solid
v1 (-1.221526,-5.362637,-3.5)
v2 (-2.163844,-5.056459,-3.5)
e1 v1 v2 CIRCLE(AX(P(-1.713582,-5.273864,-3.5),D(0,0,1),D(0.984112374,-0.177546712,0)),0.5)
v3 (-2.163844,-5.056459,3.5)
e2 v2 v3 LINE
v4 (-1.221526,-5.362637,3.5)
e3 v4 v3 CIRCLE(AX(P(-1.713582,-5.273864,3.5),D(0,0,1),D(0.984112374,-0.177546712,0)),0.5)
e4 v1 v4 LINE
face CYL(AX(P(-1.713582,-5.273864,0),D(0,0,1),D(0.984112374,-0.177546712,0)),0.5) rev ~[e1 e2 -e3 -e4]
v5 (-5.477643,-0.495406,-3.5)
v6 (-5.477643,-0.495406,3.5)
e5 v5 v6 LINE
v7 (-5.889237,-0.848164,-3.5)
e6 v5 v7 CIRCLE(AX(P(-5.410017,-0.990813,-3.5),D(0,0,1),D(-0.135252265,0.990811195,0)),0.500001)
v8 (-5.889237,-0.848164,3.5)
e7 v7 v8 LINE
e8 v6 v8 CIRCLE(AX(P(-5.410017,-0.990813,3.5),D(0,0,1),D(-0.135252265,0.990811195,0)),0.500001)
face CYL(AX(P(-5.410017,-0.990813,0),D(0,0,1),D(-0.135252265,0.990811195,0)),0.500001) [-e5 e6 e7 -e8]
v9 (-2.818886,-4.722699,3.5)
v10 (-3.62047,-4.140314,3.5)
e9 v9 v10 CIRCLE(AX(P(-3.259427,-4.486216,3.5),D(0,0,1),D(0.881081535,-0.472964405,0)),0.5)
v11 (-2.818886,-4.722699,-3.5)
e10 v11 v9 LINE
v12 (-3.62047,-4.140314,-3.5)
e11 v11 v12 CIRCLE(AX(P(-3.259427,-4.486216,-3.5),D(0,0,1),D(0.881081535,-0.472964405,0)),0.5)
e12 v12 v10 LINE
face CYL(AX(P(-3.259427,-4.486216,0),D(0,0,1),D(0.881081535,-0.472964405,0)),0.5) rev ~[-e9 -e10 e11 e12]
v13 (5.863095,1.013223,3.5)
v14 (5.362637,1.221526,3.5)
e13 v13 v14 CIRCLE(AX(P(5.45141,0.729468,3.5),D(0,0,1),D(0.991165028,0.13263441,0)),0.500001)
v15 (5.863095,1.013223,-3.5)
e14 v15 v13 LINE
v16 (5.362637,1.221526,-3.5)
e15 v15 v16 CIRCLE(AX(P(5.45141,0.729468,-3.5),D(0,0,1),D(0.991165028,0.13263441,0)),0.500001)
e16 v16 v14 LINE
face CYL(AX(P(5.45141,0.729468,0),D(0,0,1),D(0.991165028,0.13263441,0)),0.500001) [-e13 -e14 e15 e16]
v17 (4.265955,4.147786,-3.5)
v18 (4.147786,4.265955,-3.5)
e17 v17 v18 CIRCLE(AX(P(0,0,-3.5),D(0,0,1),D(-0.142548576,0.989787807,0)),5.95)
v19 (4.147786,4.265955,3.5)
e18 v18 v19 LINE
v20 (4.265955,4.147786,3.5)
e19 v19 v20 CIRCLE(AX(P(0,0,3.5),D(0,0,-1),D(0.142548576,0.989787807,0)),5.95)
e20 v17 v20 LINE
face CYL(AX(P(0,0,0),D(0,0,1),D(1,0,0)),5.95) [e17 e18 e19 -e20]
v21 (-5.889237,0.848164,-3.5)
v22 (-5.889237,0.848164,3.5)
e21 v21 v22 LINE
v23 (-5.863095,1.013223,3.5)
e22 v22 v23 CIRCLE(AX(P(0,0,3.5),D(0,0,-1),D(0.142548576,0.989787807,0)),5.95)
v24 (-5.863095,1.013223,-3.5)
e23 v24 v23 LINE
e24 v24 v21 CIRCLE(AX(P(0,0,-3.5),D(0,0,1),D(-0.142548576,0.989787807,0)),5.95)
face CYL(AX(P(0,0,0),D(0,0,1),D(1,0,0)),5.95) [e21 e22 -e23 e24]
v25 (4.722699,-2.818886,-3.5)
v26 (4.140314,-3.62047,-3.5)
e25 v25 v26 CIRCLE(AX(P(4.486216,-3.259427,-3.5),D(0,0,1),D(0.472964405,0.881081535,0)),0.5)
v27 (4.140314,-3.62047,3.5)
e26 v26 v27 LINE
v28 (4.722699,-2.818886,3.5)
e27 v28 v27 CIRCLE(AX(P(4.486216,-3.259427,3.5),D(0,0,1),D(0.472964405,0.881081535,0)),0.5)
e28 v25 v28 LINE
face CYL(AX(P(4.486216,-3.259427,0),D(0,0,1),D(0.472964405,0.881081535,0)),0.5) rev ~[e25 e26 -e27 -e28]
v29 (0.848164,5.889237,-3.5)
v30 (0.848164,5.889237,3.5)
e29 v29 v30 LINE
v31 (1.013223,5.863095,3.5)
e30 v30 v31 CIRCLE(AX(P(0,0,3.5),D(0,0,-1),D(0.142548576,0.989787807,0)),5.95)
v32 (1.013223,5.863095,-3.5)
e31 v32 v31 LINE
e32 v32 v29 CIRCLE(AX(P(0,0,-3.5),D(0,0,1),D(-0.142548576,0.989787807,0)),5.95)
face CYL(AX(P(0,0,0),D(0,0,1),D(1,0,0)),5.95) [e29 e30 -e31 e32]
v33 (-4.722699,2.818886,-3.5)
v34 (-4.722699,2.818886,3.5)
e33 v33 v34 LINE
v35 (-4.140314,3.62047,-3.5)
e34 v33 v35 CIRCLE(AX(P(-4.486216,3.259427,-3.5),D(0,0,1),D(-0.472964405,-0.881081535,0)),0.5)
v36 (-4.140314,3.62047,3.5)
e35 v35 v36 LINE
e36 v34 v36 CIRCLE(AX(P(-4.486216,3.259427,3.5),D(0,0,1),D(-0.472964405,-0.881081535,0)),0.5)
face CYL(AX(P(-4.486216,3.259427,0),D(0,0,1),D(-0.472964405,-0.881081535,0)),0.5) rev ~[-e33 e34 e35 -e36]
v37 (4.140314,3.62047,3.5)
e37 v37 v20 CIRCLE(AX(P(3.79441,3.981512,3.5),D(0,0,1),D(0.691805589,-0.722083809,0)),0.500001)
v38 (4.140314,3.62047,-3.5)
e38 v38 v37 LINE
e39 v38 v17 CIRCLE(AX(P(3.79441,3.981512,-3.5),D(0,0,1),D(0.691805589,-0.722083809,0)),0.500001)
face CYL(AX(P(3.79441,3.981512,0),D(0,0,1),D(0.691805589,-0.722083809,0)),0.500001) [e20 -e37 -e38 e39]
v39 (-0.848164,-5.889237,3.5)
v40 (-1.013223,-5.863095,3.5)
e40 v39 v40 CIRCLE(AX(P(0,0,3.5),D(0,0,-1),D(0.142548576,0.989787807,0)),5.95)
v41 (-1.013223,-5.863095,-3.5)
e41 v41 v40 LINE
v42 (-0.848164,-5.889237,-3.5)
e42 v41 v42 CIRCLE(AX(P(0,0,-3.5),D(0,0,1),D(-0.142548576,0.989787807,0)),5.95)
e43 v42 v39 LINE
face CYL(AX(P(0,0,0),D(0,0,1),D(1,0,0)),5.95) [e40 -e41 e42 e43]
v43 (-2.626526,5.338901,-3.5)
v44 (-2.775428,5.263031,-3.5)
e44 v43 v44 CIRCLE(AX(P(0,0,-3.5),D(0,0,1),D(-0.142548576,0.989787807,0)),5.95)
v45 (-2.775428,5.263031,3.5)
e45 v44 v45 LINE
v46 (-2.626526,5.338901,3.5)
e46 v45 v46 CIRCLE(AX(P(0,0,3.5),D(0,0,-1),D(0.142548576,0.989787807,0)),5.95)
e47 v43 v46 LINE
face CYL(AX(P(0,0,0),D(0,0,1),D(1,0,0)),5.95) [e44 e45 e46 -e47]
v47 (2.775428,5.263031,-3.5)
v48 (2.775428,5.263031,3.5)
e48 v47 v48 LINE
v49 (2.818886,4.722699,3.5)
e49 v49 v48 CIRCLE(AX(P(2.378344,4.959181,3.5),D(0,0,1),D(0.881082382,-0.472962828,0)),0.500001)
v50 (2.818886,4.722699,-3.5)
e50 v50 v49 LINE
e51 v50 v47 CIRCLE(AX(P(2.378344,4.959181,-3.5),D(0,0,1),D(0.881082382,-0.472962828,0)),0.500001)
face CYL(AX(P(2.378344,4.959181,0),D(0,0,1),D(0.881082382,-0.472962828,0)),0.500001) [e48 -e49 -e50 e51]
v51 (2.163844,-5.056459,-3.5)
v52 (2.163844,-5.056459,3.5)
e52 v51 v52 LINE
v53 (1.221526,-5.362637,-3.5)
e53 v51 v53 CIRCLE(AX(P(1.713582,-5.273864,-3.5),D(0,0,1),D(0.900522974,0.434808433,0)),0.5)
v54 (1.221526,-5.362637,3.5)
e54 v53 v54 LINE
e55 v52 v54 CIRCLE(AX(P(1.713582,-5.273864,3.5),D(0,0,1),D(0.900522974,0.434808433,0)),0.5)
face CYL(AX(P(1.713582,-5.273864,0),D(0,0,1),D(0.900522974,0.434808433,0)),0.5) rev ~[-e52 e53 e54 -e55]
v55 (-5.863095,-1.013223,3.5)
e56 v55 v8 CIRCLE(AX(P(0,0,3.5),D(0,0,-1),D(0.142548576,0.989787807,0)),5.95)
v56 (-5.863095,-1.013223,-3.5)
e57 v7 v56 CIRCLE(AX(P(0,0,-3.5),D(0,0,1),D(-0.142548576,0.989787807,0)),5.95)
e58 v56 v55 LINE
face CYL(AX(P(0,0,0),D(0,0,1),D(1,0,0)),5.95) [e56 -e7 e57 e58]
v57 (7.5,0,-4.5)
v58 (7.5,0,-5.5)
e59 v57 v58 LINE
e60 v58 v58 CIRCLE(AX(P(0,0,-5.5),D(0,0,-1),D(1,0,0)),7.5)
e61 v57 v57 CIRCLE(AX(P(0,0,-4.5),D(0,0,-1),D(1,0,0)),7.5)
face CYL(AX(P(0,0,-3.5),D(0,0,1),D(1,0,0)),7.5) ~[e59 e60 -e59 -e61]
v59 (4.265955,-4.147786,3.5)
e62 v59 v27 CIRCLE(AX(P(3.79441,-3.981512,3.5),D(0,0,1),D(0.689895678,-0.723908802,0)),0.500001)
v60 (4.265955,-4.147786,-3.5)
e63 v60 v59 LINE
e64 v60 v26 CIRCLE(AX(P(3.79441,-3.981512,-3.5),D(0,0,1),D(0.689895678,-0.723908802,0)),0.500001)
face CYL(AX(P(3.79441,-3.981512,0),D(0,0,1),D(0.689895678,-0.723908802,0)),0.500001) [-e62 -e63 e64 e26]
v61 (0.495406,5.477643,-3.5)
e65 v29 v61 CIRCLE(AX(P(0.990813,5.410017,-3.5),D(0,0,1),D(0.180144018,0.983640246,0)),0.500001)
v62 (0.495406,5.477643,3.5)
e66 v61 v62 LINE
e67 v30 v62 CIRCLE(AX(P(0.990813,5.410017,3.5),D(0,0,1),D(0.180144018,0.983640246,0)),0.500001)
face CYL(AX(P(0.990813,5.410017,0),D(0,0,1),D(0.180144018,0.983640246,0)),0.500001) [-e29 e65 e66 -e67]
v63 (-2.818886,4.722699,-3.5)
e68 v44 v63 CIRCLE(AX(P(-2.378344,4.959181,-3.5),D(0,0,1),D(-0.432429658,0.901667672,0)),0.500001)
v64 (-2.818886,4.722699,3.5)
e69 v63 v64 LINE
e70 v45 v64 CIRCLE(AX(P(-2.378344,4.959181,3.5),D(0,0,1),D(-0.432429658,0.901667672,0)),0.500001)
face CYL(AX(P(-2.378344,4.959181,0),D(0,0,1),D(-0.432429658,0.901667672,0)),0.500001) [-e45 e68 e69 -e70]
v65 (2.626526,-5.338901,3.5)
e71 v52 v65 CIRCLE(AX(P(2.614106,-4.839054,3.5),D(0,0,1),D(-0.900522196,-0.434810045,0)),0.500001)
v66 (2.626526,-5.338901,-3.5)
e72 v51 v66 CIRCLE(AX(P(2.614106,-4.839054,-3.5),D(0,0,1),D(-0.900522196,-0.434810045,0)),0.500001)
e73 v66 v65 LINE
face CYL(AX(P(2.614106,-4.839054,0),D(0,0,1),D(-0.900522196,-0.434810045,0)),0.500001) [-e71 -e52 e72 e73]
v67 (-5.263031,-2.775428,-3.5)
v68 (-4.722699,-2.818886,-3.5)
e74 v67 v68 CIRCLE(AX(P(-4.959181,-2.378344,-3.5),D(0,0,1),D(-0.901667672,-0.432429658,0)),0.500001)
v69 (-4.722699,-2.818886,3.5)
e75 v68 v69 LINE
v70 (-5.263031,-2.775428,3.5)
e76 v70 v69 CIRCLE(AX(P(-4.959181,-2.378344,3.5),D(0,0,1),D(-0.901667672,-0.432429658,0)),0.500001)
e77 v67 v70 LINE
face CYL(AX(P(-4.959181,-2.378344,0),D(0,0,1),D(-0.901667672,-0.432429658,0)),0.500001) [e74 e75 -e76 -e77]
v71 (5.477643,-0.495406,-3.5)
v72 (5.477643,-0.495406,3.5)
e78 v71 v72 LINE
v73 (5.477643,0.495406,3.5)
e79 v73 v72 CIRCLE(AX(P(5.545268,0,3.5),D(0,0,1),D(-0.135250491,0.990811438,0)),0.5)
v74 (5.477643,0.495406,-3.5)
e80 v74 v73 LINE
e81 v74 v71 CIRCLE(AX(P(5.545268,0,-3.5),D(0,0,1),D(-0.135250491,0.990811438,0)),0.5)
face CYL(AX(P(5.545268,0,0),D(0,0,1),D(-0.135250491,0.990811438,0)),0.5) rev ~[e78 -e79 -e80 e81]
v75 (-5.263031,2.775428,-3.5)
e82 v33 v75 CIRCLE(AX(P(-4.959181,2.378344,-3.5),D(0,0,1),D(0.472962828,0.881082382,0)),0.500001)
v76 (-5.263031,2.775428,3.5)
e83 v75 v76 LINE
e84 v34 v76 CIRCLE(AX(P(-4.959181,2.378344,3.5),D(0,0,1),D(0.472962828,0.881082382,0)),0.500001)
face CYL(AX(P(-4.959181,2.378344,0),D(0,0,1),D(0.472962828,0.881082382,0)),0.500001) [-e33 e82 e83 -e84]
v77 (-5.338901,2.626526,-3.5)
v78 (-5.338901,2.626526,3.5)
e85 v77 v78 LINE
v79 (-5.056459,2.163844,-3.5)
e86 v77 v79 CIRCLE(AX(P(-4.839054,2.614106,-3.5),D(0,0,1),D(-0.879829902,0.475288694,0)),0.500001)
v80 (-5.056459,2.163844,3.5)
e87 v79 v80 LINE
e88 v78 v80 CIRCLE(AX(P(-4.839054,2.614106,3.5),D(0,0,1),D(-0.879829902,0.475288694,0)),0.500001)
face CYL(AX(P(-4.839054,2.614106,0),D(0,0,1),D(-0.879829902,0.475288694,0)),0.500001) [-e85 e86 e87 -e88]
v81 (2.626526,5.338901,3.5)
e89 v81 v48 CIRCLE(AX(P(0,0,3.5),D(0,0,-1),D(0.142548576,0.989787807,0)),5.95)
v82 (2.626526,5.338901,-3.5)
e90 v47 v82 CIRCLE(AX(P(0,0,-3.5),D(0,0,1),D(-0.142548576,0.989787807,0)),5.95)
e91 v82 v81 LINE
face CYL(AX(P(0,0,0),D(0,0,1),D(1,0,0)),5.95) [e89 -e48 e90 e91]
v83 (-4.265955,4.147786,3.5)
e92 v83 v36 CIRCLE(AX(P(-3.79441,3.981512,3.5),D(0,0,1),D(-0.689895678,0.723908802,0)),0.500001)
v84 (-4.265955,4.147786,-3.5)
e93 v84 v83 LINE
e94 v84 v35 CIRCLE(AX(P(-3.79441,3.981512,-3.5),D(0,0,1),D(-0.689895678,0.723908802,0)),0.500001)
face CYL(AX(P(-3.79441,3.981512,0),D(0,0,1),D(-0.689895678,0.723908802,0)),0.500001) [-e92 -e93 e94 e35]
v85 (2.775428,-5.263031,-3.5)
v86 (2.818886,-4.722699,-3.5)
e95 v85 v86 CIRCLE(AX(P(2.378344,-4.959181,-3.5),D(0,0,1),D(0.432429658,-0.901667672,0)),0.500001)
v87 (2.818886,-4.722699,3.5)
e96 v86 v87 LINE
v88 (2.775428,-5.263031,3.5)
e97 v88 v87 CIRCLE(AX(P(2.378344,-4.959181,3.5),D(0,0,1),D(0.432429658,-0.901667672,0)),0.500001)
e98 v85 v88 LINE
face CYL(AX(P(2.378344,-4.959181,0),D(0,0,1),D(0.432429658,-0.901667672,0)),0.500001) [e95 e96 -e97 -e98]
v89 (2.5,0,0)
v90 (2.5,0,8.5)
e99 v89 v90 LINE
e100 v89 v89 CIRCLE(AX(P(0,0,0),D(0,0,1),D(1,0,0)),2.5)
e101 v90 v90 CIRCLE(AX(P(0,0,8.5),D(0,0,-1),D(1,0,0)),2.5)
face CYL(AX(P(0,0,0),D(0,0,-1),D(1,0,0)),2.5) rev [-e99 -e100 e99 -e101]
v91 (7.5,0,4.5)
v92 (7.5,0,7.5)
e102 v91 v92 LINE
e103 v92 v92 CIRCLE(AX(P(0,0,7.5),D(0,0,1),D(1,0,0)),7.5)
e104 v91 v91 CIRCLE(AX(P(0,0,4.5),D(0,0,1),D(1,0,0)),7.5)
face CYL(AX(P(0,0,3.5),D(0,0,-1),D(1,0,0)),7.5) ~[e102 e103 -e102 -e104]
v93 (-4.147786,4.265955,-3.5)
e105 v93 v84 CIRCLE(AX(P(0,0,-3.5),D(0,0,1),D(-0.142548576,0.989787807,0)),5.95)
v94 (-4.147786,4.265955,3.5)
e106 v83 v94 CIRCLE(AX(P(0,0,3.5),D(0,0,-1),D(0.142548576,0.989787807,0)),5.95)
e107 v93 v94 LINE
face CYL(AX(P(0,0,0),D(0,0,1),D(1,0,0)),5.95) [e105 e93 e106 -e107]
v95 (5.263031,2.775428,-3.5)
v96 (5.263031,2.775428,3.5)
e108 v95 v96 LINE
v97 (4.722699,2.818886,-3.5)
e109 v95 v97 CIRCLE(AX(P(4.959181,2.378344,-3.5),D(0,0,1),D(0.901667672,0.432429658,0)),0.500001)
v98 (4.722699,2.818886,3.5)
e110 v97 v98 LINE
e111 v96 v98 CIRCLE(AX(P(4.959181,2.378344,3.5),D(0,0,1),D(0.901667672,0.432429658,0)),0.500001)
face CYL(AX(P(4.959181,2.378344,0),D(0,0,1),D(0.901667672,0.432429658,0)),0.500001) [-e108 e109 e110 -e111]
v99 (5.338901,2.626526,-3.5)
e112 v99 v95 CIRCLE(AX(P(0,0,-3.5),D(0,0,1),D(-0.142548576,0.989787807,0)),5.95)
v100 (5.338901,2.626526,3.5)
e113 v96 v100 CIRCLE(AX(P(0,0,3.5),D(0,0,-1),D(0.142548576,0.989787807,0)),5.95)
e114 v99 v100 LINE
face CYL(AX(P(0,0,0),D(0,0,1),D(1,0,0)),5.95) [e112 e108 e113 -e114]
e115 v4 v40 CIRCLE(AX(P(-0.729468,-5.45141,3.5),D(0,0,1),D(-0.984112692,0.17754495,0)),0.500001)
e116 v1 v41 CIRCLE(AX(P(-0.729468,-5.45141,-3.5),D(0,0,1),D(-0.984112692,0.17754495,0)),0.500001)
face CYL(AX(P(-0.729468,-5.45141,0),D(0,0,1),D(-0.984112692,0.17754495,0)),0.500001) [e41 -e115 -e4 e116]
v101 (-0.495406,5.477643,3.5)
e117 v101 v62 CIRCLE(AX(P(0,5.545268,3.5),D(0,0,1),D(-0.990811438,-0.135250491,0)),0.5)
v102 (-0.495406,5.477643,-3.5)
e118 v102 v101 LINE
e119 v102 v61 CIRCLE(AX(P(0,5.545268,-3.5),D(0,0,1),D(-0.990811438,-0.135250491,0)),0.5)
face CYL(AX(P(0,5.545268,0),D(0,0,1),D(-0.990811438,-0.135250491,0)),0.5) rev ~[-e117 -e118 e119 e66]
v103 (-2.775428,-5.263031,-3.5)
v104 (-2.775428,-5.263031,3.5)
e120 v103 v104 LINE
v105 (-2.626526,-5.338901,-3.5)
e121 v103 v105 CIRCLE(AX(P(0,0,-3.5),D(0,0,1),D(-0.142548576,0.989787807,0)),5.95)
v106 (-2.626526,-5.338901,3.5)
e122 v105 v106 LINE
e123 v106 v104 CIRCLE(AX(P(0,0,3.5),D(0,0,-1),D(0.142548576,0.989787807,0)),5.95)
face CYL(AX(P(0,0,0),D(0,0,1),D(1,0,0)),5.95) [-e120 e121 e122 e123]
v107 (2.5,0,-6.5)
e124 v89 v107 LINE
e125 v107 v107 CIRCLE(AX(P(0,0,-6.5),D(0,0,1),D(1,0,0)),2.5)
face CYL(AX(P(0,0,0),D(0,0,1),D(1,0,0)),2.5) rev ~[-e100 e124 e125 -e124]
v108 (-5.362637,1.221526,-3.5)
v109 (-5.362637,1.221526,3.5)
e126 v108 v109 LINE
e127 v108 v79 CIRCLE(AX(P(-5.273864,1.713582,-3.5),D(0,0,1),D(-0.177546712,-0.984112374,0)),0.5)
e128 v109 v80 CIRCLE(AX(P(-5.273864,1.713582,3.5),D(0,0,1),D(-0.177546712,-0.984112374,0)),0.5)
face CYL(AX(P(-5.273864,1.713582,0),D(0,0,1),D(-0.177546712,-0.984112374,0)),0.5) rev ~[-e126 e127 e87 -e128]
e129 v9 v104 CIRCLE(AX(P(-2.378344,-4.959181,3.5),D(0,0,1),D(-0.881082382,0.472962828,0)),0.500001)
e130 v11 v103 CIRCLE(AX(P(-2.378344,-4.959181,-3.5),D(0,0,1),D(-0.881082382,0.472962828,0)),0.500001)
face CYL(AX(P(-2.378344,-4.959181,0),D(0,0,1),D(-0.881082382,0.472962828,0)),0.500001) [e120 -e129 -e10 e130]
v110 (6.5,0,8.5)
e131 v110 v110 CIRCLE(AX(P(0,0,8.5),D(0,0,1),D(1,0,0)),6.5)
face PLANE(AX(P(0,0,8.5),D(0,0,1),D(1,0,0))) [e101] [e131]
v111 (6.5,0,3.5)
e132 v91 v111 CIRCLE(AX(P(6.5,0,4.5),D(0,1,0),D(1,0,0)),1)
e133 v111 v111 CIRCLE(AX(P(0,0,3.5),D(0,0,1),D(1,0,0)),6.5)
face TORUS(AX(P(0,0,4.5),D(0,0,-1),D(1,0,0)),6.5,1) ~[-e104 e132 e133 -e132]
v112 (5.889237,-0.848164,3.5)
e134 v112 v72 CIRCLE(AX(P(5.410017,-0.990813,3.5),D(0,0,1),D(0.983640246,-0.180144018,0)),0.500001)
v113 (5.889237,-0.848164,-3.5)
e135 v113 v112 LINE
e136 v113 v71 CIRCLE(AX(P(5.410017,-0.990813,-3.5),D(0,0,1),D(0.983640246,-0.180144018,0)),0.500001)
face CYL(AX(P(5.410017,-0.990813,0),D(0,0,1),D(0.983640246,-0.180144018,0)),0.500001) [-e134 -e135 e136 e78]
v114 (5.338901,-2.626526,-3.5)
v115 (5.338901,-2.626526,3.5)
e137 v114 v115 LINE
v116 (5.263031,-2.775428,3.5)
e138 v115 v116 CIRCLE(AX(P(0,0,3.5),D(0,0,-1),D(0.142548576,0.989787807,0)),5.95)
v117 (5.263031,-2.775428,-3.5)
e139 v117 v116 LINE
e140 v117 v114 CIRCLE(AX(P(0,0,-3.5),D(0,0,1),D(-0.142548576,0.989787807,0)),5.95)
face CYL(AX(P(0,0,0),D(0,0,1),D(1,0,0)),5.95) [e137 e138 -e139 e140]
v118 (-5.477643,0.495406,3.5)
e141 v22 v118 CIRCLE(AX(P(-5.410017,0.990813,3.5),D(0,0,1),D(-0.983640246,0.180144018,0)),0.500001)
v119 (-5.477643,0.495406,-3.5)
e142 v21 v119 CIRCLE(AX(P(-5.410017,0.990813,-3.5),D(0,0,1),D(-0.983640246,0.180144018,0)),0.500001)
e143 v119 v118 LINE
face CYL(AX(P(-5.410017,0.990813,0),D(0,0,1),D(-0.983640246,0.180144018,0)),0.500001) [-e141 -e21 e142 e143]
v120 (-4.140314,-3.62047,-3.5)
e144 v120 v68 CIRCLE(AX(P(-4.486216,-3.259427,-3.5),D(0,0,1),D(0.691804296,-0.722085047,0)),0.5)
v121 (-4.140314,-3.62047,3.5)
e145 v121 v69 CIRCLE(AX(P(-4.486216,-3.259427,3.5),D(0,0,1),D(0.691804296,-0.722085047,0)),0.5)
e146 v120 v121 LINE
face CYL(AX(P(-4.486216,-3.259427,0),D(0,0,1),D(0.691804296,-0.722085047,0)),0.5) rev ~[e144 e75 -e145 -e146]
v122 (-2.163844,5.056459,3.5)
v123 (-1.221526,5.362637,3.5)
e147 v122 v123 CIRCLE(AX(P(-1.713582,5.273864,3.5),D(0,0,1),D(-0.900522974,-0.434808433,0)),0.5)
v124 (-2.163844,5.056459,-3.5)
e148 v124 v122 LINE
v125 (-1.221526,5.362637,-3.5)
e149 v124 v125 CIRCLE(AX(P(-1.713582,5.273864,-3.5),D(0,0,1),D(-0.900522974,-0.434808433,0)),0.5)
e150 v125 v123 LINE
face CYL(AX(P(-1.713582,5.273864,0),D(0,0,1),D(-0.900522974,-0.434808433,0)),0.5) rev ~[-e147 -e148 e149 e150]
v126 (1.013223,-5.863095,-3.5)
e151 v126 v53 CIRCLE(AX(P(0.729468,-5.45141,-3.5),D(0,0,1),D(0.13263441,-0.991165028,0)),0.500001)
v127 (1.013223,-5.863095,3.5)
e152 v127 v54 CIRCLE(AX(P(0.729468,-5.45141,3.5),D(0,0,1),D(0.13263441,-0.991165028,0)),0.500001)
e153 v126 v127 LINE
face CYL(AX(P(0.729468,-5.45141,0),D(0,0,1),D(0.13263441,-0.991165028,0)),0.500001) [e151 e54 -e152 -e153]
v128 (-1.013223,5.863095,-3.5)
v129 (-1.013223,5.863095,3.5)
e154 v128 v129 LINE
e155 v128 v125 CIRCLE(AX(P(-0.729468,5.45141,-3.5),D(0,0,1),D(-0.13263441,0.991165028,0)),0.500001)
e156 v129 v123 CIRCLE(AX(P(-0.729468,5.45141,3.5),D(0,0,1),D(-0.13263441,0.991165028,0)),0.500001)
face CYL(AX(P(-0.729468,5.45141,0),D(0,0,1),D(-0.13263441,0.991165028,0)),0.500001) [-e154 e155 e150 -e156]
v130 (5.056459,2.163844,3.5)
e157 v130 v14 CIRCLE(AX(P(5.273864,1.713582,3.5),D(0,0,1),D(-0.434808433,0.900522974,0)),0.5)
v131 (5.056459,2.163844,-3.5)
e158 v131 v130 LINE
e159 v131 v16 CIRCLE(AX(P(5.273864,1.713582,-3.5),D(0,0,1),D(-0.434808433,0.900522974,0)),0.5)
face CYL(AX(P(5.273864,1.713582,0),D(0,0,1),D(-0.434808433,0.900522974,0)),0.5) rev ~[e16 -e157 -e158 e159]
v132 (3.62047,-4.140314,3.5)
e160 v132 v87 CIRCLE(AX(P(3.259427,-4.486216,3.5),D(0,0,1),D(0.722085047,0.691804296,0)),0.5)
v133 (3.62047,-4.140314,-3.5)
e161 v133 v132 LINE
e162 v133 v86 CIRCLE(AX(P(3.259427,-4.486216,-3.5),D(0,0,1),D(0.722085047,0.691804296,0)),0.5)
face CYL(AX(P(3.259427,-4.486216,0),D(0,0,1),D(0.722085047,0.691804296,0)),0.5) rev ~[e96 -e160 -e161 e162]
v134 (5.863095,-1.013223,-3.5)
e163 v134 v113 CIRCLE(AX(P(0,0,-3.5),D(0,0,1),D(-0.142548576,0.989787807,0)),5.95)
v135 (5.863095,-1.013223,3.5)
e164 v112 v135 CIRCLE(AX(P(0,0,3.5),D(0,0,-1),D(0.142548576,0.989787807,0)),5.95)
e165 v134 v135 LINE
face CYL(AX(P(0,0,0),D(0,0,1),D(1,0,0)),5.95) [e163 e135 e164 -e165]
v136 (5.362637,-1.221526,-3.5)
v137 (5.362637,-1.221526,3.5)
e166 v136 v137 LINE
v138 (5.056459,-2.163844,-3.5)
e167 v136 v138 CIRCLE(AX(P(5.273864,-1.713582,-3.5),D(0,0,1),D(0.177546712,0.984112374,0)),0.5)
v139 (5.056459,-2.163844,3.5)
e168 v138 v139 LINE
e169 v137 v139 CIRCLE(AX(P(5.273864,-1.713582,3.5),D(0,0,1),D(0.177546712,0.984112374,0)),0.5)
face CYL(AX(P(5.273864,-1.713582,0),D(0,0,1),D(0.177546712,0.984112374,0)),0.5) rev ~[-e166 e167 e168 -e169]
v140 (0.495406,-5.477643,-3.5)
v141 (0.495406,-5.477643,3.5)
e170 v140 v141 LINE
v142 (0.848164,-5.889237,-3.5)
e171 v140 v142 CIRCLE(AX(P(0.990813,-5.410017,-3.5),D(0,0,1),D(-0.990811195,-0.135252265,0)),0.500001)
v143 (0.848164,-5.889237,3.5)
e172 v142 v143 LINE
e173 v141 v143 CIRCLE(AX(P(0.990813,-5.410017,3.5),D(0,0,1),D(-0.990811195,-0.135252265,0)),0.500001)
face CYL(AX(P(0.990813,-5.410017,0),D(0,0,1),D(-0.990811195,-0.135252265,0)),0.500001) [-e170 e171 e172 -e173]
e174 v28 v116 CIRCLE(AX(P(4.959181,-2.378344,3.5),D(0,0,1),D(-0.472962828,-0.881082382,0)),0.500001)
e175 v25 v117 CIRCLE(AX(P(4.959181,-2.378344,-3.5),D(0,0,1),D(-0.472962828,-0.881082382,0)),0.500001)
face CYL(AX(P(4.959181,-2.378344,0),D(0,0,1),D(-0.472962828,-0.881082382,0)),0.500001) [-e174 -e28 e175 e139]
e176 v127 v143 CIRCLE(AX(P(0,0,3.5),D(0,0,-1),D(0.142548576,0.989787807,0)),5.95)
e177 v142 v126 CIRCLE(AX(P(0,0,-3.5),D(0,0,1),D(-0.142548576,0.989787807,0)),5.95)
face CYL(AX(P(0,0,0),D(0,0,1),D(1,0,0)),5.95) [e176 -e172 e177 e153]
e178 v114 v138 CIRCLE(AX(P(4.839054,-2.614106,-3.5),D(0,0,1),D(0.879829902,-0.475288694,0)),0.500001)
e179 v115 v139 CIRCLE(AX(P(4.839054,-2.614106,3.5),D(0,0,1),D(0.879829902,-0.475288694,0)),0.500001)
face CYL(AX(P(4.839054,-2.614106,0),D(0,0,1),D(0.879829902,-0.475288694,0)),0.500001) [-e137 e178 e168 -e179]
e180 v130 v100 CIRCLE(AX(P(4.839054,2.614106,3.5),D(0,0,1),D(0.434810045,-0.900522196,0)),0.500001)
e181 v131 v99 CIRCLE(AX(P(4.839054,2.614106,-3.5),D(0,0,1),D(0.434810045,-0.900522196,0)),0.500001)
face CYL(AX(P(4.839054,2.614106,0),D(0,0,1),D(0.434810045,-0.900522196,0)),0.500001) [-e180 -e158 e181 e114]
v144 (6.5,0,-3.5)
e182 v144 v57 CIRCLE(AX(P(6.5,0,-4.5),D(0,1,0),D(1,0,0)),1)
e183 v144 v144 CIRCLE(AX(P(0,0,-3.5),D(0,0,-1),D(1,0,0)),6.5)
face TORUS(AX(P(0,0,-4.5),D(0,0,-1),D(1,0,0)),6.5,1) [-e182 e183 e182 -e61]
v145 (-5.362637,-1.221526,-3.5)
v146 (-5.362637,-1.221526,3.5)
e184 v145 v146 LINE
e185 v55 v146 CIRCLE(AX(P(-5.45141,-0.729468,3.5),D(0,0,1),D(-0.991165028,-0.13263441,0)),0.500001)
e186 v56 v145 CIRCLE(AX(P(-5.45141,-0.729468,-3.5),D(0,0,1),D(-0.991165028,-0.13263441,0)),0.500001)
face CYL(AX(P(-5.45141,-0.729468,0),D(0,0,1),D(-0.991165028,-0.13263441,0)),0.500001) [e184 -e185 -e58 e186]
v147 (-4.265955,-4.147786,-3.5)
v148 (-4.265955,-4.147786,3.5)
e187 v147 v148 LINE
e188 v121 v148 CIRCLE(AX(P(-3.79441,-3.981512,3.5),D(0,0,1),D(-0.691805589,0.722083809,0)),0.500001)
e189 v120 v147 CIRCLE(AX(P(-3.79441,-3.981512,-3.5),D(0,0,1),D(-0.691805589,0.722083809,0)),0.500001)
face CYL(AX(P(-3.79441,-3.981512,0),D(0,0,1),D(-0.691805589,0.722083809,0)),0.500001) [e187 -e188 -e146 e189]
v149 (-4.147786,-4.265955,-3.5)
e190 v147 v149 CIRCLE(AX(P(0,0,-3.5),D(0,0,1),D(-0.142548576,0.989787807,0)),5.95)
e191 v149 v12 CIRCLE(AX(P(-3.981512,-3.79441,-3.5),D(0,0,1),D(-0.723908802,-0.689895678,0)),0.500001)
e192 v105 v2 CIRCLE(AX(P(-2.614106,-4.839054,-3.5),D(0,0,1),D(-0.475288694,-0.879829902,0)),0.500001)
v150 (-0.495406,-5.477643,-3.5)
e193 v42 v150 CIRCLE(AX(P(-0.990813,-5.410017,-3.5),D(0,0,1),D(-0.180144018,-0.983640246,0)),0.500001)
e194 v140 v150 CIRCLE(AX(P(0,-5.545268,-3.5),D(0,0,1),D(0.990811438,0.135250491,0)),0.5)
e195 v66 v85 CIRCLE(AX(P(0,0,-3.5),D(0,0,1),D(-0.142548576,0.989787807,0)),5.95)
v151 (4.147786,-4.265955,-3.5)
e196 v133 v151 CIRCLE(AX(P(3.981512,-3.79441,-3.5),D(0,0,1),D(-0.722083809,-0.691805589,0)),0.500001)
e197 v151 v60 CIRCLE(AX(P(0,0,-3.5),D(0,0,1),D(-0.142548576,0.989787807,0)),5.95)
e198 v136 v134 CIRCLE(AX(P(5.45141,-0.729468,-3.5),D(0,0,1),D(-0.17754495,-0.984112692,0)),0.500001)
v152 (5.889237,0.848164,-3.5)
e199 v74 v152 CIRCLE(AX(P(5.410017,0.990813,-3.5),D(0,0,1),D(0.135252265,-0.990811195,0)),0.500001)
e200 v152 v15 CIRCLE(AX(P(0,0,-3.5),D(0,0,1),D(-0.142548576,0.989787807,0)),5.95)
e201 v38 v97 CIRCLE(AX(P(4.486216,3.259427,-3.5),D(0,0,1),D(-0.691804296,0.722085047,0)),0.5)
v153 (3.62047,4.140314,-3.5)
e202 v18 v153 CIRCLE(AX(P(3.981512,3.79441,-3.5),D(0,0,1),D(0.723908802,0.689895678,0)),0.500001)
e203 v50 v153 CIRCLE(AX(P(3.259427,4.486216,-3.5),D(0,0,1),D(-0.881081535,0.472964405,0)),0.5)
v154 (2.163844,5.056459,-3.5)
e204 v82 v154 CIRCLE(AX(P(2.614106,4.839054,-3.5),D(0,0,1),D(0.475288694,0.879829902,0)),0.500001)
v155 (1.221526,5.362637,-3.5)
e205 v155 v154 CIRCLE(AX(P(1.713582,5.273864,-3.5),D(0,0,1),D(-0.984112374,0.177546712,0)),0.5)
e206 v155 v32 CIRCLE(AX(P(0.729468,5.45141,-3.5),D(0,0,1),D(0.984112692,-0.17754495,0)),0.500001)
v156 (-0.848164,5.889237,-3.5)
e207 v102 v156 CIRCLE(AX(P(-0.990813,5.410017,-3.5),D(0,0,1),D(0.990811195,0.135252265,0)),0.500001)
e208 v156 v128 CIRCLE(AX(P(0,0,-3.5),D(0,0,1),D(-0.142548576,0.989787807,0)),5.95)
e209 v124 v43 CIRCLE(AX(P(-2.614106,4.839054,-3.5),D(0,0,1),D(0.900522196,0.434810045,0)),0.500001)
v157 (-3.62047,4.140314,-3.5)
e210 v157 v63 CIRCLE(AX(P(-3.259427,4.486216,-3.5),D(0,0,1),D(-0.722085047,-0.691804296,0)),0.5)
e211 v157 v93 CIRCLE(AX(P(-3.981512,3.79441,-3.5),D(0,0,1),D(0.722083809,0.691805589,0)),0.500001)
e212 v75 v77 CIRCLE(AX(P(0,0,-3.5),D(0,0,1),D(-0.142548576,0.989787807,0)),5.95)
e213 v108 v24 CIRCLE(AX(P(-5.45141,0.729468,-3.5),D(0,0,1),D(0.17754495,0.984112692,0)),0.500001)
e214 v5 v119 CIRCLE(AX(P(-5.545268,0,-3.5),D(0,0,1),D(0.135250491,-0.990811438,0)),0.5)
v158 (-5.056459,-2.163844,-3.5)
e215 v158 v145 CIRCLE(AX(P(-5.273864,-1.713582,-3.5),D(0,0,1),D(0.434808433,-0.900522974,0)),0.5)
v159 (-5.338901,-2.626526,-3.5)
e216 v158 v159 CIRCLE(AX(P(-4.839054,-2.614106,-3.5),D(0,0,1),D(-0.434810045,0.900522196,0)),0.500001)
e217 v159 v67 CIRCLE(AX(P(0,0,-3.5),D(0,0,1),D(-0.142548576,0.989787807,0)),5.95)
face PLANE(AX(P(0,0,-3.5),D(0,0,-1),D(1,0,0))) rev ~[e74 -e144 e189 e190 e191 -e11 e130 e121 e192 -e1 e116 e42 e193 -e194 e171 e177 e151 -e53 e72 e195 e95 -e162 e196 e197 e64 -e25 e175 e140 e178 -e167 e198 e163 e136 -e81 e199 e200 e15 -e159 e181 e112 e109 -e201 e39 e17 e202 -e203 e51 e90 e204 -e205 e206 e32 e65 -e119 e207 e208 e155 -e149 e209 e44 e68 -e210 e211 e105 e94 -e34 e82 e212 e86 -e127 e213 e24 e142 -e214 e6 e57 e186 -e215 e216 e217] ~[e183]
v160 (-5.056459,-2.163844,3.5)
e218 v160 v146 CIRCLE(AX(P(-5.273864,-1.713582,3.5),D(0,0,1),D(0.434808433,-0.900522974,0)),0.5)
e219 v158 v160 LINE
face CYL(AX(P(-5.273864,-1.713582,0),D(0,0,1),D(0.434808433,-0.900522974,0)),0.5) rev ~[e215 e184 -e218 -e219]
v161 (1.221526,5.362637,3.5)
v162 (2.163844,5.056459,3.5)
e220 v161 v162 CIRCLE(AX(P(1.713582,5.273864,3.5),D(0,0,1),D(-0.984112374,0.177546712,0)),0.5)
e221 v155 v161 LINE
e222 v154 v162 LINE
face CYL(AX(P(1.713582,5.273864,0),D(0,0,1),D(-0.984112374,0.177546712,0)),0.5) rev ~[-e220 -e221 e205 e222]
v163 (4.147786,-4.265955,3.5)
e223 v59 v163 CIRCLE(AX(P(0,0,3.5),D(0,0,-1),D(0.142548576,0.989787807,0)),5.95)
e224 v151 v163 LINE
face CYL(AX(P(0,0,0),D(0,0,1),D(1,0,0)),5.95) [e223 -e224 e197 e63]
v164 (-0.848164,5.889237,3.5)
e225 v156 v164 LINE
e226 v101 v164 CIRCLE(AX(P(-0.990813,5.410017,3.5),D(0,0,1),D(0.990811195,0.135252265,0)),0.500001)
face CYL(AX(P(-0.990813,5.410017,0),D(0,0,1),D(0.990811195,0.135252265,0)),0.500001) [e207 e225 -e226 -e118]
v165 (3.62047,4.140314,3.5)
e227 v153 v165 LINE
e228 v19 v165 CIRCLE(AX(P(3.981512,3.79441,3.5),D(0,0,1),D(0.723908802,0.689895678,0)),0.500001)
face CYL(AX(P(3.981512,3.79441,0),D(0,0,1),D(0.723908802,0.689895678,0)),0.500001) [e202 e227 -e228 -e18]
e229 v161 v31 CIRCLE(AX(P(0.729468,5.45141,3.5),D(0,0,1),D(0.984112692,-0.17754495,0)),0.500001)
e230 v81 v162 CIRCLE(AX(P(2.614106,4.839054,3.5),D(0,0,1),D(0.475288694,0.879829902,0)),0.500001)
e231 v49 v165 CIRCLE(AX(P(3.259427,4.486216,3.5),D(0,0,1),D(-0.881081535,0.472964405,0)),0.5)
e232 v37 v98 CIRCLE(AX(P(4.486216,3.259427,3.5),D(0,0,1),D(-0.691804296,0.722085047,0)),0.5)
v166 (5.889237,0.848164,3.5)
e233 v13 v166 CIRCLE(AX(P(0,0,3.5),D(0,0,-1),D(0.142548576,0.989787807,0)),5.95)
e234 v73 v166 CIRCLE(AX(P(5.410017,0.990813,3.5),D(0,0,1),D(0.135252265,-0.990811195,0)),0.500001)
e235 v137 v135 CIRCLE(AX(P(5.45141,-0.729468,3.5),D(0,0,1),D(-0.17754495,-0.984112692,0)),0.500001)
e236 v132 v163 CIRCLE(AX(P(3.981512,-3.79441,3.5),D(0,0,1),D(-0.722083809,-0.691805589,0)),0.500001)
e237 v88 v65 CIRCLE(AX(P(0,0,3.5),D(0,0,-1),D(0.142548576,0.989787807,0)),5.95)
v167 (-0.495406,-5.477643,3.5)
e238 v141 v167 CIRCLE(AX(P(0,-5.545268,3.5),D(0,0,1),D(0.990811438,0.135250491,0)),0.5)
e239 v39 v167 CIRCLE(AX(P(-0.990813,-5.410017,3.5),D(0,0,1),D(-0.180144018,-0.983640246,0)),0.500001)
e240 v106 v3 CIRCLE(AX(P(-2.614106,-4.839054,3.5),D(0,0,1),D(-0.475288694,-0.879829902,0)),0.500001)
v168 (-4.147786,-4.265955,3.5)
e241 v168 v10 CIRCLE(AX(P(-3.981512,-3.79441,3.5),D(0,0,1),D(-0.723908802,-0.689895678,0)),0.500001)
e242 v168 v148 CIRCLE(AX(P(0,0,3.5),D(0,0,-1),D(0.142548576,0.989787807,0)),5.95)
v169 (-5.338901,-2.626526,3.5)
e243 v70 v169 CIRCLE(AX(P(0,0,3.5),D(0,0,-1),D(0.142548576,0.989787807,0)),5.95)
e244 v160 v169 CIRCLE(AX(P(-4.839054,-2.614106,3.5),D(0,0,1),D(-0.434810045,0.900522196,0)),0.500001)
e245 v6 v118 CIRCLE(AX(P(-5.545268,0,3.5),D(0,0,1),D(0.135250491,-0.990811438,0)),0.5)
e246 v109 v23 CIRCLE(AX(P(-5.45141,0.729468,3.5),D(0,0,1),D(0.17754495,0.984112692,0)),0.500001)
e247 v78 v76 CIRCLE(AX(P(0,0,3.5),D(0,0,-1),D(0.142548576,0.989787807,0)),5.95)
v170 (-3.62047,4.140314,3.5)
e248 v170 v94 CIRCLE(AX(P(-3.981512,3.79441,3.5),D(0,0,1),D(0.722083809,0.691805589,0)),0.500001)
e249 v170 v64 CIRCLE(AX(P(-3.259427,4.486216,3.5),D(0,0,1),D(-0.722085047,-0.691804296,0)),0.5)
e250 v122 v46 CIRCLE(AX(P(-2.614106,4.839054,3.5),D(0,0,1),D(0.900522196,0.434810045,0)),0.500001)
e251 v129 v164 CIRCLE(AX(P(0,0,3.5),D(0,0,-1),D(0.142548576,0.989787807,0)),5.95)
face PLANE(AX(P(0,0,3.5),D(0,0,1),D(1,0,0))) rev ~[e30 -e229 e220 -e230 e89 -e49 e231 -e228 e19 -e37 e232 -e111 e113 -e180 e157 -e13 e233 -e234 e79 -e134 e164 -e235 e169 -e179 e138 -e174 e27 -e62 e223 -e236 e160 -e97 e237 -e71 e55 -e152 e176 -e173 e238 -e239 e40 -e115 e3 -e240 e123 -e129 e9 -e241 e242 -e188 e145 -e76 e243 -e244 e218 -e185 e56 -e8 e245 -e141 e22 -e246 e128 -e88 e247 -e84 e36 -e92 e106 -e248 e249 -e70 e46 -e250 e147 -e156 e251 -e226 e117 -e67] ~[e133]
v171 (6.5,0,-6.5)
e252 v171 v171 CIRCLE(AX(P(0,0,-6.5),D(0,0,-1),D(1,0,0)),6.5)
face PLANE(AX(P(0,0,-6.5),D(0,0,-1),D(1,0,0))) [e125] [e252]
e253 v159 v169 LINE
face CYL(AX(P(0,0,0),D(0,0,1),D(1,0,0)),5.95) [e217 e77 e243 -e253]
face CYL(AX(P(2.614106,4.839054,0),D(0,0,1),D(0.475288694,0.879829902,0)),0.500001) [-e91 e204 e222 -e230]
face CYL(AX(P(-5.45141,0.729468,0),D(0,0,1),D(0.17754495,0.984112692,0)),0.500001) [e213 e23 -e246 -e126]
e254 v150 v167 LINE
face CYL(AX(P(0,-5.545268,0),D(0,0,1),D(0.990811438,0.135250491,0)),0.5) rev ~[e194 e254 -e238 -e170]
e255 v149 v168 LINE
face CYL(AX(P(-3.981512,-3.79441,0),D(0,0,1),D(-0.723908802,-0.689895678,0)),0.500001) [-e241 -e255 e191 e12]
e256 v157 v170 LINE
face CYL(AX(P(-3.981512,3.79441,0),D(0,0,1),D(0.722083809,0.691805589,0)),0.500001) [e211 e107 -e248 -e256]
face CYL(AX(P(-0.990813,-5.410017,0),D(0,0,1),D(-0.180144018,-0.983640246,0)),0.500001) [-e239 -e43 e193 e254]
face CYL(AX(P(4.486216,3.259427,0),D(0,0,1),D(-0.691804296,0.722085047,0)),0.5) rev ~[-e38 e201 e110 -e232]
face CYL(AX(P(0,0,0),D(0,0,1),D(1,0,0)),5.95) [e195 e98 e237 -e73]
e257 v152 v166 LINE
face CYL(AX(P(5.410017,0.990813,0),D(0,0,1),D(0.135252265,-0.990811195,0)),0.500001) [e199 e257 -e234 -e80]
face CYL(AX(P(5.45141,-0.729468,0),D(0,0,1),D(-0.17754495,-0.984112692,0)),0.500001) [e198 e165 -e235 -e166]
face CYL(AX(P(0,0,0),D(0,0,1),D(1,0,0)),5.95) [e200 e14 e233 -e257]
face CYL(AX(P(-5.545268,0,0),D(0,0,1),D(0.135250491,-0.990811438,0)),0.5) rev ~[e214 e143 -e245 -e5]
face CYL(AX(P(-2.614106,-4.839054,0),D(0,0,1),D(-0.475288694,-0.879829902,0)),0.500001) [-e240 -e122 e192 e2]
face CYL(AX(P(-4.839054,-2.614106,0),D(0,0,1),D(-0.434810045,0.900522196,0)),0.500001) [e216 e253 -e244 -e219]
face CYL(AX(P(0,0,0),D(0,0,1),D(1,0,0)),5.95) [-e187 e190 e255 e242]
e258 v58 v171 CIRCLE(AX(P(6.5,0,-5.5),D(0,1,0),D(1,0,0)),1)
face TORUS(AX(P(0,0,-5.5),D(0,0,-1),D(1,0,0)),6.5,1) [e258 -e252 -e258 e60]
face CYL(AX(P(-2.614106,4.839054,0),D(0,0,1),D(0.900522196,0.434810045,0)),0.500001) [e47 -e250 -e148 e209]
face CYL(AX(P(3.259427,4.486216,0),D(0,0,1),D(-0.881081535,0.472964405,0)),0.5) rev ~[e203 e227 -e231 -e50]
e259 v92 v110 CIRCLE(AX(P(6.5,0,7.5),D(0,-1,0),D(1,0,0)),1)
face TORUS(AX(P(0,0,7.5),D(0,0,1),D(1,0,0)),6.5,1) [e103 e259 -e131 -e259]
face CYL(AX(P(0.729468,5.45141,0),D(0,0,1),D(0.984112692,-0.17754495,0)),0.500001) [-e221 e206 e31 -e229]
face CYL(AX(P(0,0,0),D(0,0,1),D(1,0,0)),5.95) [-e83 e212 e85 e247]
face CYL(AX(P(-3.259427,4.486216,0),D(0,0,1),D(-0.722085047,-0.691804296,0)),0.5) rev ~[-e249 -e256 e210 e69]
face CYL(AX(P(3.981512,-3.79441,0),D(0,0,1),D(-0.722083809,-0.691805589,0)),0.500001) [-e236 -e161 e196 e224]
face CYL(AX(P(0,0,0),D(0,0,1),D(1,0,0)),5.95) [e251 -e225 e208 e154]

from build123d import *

# Parameters (mm, degrees)
SKETCH_R             = 5.95
PAD_DEPTH            = 3.5
POCKET_DEPTH         = 3.5
POLARPATTERN_COUNT   = 20
SKETCH002_R          = 7.5
PAD001_DEPTH         = 3
SKETCH003_R          = 7.5
PAD002_DEPTH         = 5
FILLET_R             = 1
SKETCH005_R          = 2.5
POCKET002_DEPTH      = 6.501
POCKET002_DEPTH_BACK = -8.501


with BuildPart() as part:
    # Sketch → Pad (new body, symmetric)
    with BuildSketch(Plane.XY):
        Circle(SKETCH_R)
    extrude(amount=PAD_DEPTH, both=True)

    # Sketch001 → Pocket (cut, symmetric)
    with BuildSketch(Plane.XY):
        with BuildLine():
            ThreePointArc((-0.495406, 5.477643), (-0.697454, 5.814914), (-1.080885, 5.901838))
            ThreePointArc((1.080885, 5.901838), (0, 6), (-1.080885, 5.901838))
            ThreePointArc((1.080885, 5.901838), (0.697454, 5.814914), (0.495406, 5.477643))
            ThreePointArc((-0.495406, 5.477643), (0, 5.045268), (0.495406, 5.477643))
        make_face()
    pocket = extrude(amount=POCKET_DEPTH, both=True, mode=Mode.SUBTRACT)

    # PolarPattern: Pocket ×20 about axis
    polarpattern_axis = Axis((0, 0, 0), (0, 0, 1))
    for i in range(1, POLARPATTERN_COUNT):
        add(pocket.rotate(polarpattern_axis, i * 360 / POLARPATTERN_COUNT), mode=Mode.SUBTRACT)

    # Sketch002 (on Face2 of PolarPattern) → Pad001 (join)
    with BuildSketch(Plane(origin=(0, 0, -3.5), x_dir=(1, 0, 0), z_dir=(0, 0, -1))):
        Circle(SKETCH002_R)
    extrude(amount=PAD001_DEPTH)

    # Sketch003 → Pad002 (join)
    with BuildSketch(Plane.XY.offset(3.5)):
        Circle(SKETCH003_R)
    extrude(amount=PAD002_DEPTH)

    # Fillet
    fillet_edges = [part.edges().sort_by_distance(p)[0] for p in [
        (7.5, 0, 6),
        (-7.5, 0, 3.5),
        (-7.5, 0, 8.5),
        (7.5, 0, -5),
        (-7.5, 0, -3.5),
        (-7.5, 0, -6.5),
    ]]
    fillet(fillet_edges, radius=FILLET_R)

    # Sketch005 → Pocket002 (cut, two sides)
    with BuildSketch(Plane.XY) as pocket002_sk:
        Circle(SKETCH005_R)
    extrude(amount=-POCKET002_DEPTH, mode=Mode.SUBTRACT)
    extrude(pocket002_sk.sketch, amount=-POCKET002_DEPTH_BACK, mode=Mode.SUBTRACT)


solid = part.part
